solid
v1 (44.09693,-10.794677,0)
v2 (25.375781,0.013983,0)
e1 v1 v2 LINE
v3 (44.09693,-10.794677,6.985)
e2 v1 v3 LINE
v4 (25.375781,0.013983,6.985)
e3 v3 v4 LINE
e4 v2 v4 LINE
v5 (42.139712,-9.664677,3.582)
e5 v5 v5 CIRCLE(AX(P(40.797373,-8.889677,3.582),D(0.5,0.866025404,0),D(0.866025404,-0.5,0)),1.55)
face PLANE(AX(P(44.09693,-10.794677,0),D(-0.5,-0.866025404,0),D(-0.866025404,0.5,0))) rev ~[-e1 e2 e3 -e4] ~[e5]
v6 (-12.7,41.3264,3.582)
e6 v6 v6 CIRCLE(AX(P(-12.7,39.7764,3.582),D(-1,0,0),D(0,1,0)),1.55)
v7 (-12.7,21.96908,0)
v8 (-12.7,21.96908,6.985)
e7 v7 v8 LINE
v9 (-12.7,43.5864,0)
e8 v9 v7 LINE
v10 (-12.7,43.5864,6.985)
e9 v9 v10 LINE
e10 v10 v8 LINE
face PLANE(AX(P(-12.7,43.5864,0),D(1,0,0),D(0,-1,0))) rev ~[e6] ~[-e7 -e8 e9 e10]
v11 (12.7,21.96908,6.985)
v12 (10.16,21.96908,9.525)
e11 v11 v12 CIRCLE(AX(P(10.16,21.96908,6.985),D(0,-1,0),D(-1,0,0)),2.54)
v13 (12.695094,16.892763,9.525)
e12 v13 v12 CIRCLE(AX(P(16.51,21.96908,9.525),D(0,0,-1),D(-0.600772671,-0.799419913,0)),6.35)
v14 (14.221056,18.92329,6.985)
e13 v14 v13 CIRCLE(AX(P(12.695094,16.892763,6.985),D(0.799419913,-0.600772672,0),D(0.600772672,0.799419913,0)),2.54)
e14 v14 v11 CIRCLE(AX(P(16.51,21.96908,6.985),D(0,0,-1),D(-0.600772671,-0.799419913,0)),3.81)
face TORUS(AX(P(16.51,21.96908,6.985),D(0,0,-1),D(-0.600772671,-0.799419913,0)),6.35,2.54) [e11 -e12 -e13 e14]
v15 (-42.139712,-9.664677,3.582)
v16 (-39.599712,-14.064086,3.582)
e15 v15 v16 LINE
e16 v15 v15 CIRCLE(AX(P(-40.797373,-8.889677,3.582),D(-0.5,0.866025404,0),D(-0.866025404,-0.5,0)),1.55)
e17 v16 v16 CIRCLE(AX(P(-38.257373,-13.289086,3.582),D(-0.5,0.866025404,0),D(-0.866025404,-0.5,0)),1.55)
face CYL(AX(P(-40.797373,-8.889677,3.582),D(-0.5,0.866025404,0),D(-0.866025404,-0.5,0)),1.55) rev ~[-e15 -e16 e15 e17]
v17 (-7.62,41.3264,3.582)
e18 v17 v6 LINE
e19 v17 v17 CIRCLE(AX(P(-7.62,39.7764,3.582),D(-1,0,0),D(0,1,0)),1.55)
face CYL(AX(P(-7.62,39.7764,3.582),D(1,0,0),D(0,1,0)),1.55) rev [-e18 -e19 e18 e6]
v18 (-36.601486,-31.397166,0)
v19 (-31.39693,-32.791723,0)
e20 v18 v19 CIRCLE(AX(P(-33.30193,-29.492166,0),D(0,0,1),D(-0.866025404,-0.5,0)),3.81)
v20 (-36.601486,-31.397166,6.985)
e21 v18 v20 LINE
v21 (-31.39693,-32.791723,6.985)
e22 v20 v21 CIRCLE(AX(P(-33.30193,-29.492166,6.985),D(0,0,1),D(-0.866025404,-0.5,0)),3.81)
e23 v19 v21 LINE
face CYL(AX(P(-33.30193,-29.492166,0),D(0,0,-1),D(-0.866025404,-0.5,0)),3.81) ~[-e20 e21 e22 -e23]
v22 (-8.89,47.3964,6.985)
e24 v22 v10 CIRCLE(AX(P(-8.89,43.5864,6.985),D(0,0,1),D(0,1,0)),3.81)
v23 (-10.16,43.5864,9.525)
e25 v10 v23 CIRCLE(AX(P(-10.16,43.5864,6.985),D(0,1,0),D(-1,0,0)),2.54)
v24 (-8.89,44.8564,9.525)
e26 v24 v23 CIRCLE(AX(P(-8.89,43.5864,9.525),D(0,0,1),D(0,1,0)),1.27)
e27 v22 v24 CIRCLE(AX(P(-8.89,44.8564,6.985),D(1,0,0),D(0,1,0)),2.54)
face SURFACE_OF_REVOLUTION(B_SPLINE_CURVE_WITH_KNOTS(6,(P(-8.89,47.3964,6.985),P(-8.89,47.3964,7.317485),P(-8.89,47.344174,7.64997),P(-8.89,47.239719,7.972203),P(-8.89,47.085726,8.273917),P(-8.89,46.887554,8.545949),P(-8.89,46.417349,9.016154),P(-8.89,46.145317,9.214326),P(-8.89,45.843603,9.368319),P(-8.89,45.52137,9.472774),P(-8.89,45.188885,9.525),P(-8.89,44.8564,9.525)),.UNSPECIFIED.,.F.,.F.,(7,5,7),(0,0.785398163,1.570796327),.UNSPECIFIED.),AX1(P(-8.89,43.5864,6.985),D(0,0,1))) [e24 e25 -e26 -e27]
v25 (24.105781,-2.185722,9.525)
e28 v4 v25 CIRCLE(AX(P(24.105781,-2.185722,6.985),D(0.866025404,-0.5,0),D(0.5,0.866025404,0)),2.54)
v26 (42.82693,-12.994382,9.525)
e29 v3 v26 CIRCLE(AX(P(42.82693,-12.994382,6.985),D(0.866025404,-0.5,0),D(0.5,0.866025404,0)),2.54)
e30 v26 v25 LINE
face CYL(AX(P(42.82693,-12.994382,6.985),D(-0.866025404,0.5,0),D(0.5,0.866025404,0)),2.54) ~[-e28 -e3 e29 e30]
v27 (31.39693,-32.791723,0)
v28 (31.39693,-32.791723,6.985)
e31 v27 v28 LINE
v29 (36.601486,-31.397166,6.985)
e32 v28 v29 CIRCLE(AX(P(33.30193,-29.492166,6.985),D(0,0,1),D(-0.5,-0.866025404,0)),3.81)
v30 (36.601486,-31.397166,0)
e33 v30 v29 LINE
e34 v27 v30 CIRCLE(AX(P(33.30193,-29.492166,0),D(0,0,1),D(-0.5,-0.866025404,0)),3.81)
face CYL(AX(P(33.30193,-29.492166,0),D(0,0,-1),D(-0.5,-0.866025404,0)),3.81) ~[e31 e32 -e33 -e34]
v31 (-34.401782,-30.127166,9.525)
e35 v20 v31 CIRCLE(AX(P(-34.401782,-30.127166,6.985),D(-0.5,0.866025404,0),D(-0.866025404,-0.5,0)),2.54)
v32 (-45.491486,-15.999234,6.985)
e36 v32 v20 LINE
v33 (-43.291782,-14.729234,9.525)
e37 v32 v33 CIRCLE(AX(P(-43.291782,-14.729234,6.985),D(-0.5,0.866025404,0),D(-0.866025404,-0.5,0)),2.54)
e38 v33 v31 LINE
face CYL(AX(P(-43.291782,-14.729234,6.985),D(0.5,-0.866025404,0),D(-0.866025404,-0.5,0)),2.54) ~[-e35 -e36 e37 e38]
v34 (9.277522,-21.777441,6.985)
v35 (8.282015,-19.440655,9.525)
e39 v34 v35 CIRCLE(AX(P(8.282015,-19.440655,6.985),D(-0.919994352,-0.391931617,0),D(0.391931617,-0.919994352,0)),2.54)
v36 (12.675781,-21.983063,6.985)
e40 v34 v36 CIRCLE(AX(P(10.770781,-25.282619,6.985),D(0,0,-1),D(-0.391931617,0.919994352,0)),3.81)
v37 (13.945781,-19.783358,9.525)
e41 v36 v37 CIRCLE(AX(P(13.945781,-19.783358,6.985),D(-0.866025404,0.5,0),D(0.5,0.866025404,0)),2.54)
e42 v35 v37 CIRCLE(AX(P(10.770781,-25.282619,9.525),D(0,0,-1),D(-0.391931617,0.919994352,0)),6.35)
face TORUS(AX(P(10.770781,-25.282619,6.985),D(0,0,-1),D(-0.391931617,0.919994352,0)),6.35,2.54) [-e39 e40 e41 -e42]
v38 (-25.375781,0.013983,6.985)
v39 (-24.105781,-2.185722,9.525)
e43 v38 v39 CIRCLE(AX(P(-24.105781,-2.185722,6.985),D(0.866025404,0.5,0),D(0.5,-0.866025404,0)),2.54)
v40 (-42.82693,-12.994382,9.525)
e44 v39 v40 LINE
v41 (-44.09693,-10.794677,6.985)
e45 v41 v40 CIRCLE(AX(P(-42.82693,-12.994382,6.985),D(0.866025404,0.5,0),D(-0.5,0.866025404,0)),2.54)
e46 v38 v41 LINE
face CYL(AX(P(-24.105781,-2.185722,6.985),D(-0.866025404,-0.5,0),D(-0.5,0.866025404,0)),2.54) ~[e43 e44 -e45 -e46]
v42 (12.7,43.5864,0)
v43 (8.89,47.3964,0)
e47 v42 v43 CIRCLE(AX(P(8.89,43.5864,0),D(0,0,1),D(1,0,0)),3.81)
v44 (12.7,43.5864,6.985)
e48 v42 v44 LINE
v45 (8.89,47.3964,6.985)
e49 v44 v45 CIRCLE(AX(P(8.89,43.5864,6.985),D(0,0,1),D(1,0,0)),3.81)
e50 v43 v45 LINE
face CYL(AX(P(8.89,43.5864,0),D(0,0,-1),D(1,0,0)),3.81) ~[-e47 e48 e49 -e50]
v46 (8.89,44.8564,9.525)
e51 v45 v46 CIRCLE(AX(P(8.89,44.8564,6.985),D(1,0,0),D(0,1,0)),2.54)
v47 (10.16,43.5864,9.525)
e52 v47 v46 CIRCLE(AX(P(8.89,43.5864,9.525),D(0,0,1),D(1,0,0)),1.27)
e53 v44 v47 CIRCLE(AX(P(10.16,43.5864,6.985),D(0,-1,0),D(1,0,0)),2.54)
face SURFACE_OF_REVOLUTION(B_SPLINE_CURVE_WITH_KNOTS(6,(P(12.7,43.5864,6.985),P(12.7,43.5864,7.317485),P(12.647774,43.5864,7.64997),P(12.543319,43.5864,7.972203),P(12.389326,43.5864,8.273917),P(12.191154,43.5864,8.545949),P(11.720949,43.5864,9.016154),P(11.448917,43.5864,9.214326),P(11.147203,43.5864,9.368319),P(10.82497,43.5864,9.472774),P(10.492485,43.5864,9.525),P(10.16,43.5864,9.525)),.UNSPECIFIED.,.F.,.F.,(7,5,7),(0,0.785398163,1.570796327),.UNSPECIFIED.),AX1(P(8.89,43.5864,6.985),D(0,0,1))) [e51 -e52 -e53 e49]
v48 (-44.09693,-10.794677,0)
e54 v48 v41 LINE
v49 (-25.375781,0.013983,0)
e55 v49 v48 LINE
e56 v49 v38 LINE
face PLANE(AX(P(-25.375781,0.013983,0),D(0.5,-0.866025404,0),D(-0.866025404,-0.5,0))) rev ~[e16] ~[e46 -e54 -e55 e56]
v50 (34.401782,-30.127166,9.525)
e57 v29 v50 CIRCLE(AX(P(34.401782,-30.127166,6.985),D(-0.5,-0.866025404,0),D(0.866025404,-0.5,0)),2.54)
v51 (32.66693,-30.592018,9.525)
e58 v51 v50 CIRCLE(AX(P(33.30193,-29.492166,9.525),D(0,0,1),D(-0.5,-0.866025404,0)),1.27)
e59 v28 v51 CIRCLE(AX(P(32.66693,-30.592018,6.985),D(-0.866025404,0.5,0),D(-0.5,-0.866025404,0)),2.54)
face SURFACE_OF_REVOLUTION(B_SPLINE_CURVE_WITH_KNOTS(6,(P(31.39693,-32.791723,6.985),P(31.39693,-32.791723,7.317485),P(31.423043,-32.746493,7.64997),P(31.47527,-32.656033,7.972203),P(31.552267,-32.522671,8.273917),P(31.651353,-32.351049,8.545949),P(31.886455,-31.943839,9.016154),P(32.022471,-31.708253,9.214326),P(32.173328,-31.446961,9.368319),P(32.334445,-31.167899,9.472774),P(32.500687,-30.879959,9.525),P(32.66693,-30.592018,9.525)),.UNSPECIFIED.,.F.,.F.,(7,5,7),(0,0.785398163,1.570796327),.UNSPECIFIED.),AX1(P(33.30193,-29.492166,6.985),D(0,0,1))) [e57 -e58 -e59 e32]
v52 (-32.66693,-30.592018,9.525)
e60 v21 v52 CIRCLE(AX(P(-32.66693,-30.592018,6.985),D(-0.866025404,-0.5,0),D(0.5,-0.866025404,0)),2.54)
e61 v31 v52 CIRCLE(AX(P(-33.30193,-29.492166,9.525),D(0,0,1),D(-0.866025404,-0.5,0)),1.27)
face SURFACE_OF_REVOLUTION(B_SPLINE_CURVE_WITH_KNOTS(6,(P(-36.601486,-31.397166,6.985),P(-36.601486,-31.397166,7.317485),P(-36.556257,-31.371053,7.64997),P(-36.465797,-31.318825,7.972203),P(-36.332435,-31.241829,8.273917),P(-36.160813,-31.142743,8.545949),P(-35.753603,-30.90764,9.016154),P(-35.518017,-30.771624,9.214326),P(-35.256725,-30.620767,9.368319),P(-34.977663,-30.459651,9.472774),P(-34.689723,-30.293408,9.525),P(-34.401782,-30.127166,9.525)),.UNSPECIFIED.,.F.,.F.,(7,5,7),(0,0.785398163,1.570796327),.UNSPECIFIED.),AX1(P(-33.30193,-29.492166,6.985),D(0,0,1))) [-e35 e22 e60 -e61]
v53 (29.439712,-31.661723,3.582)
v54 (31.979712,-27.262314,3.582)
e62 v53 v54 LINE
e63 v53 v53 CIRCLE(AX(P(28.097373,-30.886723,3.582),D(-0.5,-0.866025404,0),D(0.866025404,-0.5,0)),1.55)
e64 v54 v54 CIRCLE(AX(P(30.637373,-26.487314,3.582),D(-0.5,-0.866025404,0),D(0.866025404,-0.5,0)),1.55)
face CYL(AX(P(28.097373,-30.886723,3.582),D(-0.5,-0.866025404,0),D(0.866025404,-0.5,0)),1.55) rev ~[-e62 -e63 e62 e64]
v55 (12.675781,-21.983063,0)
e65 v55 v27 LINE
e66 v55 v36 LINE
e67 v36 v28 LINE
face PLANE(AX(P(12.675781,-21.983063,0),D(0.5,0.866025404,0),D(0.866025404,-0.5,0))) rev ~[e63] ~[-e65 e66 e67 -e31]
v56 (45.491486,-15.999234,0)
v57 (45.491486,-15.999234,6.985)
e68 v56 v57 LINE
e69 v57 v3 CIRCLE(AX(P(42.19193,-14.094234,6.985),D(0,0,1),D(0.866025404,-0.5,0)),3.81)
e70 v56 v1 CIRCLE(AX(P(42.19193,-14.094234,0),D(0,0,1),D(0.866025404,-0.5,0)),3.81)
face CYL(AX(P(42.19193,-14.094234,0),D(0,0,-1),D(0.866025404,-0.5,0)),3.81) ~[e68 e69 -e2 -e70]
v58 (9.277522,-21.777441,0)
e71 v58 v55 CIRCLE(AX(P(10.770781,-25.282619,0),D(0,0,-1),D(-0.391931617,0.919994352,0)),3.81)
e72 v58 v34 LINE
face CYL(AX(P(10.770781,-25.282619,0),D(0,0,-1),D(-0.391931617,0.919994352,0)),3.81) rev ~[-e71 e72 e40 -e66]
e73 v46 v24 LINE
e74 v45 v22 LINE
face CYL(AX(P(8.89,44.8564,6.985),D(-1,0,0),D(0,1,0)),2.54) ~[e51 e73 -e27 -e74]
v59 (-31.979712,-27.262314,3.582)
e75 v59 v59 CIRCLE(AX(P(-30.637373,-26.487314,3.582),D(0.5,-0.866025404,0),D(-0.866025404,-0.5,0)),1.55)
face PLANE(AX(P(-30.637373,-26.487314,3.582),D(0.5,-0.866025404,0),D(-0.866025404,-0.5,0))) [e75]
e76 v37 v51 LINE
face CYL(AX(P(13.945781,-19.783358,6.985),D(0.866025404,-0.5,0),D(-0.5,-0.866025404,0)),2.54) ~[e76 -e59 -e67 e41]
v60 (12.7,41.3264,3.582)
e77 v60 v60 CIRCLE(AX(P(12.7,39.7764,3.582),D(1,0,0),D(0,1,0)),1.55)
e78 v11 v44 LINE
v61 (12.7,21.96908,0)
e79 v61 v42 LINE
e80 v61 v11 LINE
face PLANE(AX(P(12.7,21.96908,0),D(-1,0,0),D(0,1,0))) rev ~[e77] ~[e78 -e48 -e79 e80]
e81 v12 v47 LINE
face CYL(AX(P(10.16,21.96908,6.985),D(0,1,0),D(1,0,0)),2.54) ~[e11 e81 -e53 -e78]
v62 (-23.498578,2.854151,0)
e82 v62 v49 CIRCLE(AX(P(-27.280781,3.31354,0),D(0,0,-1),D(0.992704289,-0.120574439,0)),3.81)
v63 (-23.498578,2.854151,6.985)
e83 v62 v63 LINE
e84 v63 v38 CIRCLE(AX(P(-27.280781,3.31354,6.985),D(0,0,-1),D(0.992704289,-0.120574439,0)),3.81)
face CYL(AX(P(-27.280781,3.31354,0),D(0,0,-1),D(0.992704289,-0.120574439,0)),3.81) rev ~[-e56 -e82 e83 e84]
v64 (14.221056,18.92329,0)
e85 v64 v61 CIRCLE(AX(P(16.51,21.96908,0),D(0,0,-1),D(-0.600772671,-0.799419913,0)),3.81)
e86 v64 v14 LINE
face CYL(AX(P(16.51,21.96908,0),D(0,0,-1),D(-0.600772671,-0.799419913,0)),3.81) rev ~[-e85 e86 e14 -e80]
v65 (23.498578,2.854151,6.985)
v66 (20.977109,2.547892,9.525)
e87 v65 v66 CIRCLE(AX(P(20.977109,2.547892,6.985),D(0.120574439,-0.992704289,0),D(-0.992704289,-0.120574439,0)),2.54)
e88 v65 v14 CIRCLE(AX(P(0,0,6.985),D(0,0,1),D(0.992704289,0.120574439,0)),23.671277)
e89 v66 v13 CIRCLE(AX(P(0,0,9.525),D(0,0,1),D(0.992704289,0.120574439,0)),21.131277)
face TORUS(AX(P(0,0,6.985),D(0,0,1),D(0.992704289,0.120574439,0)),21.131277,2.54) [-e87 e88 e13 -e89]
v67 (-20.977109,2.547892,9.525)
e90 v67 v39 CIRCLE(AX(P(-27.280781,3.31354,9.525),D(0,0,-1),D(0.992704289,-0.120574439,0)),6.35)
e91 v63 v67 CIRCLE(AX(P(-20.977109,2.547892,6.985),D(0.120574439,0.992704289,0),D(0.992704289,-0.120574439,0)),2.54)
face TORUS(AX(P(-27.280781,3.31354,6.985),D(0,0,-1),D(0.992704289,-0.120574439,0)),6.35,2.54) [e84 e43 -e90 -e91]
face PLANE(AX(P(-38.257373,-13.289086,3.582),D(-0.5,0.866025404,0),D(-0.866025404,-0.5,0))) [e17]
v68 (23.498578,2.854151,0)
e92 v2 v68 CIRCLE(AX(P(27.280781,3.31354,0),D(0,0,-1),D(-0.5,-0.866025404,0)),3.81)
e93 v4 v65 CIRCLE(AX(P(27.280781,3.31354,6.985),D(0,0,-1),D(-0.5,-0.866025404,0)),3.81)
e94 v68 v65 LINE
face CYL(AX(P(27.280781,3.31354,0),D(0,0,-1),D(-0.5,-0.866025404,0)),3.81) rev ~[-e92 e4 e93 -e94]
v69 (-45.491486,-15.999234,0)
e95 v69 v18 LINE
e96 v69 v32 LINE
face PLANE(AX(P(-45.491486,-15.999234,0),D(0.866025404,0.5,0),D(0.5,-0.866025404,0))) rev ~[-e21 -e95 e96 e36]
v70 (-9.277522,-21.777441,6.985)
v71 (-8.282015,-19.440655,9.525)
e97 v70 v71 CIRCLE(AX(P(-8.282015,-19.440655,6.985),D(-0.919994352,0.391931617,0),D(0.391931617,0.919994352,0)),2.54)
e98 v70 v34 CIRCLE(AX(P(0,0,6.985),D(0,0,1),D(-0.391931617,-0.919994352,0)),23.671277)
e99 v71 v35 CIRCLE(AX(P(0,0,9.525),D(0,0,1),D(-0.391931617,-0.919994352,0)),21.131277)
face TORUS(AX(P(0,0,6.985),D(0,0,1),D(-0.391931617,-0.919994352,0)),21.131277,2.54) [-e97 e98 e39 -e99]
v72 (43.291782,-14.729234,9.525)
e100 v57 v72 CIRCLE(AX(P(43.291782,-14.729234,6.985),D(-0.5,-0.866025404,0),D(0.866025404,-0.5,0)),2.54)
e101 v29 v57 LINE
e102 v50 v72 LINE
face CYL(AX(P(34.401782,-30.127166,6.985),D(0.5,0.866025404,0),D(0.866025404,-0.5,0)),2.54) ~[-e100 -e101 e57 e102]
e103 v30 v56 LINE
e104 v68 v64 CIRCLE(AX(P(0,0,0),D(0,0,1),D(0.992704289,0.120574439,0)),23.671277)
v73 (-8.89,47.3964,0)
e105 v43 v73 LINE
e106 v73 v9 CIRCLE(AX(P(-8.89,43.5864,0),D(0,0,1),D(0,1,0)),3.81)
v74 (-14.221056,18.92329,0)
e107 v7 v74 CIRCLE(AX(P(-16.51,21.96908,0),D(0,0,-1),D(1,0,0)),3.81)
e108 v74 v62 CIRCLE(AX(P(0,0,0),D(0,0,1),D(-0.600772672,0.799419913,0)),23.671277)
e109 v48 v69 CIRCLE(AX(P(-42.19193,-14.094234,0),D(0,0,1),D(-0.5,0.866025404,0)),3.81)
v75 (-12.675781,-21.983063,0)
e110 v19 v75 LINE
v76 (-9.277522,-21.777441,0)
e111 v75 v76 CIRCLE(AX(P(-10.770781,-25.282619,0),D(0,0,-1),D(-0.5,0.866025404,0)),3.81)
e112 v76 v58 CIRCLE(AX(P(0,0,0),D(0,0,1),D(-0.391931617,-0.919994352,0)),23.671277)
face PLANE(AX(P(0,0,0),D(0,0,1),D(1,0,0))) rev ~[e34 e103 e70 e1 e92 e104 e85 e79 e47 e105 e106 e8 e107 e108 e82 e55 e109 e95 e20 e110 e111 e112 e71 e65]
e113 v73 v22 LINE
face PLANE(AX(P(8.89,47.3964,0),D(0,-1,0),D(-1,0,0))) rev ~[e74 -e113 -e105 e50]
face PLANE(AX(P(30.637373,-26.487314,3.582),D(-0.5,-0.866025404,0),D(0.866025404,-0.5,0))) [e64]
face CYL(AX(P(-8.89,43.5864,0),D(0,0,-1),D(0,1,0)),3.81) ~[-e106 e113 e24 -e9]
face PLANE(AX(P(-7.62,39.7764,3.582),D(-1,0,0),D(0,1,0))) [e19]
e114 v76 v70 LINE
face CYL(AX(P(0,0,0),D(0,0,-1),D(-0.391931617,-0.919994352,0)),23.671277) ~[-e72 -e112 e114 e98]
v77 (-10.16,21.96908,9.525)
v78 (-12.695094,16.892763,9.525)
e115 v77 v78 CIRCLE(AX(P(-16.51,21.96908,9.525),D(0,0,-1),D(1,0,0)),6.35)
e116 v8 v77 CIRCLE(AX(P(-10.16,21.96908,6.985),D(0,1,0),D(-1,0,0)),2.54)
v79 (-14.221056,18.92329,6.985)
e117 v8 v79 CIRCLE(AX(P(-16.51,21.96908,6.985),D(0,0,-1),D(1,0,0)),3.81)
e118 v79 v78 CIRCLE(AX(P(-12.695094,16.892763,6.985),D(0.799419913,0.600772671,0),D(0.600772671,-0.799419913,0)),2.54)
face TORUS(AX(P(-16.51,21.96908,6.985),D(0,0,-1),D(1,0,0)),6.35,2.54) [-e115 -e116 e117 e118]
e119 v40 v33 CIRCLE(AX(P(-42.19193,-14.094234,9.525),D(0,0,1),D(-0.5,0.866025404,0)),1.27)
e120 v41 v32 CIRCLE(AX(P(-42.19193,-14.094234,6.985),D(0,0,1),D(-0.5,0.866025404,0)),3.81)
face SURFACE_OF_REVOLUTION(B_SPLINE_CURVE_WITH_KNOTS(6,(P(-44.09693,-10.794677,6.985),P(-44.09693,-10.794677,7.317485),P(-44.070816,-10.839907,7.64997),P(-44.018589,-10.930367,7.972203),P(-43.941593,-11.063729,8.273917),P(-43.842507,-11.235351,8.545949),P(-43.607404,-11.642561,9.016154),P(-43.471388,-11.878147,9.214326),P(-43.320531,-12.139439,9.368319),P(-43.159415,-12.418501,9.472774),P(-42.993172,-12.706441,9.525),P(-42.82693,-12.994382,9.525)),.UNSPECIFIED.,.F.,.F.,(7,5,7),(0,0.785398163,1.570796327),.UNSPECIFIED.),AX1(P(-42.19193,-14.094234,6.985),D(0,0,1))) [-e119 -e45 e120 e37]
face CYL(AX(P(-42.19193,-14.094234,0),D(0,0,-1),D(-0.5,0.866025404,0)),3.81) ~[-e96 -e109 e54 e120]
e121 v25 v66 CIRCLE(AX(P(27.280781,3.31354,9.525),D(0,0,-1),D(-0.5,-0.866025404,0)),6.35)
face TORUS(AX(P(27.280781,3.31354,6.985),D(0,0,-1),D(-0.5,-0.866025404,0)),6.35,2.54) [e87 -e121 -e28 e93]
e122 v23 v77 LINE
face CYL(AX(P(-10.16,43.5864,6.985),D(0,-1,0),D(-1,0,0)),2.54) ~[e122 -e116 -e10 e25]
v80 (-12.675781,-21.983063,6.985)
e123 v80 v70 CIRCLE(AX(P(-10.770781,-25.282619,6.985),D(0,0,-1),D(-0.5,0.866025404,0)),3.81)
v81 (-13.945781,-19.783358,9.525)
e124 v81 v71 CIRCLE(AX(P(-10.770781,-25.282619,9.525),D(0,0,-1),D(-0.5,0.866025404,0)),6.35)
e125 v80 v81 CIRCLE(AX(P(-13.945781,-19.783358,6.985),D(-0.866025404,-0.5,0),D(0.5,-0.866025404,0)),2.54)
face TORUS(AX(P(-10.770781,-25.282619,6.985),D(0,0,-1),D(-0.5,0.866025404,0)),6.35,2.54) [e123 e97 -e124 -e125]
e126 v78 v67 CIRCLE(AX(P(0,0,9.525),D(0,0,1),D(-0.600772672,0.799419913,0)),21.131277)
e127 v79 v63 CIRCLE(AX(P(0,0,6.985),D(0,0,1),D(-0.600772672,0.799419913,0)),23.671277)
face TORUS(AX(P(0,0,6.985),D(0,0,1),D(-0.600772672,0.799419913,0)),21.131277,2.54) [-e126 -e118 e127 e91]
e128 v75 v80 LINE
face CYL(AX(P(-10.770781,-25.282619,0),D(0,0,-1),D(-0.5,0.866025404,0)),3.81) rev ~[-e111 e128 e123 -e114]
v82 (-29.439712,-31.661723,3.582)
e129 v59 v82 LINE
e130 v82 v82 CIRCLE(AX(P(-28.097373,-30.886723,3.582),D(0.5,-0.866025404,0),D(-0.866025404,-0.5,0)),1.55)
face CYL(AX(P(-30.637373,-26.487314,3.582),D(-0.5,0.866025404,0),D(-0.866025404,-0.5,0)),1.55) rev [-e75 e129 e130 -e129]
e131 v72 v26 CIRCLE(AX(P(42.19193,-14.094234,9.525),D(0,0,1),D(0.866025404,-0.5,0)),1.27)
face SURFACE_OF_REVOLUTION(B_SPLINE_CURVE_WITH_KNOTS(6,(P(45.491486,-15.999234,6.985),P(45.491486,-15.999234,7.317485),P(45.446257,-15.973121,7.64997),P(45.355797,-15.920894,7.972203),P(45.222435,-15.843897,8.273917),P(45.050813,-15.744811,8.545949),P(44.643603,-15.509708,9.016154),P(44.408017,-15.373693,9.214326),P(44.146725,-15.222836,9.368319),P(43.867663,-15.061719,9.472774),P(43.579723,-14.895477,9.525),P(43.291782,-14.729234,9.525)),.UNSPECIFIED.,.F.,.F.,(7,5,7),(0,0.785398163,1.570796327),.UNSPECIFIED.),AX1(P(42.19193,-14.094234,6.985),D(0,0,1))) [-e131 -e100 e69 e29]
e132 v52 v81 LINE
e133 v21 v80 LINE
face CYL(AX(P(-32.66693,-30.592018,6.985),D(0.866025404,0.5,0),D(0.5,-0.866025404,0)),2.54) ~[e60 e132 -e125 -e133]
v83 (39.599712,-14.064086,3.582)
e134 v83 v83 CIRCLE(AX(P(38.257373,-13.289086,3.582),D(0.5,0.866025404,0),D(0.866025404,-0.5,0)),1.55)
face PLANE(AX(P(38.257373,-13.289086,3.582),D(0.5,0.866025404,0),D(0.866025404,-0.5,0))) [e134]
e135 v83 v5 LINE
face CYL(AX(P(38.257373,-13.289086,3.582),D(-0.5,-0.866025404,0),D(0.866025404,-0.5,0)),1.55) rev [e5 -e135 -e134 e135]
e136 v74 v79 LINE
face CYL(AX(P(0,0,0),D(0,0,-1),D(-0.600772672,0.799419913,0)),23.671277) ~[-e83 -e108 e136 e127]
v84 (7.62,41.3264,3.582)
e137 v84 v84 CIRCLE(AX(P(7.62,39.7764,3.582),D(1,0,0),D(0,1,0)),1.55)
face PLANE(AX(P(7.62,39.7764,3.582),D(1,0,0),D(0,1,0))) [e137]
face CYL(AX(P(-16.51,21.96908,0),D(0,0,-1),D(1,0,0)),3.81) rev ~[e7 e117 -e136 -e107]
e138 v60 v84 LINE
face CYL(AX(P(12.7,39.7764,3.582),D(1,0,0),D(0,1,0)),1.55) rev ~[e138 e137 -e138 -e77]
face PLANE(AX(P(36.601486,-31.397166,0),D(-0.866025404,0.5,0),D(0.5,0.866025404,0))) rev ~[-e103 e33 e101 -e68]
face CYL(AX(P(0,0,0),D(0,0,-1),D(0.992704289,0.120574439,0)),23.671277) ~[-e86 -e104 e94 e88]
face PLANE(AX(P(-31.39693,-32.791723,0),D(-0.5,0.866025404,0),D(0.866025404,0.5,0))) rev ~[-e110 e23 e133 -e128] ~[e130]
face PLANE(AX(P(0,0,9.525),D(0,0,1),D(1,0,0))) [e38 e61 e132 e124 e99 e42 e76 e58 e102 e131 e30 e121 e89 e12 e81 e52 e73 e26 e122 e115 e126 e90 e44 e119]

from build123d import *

# Parameters (mm, degrees)
BOSS_EXTRUDE1_DEPTH = 9.525
FILLET1_R           = 2.54
SKETCH3_R           = 1.55
CUT_EXTRUDE2_DEPTH  = 5.08
CUT_EXTRUDE3_START  = -5.08
SKETCH4_R           = 1.55
CUT_EXTRUDE3_DEPTH  = 5.08
CIRPATTERN2_COUNT   = 3


with BuildPart() as part:
    # Sketch1 → Boss-Extrude1 (new body)
    with BuildSketch(Plane.XY):
        with BuildLine():
            Line((12.7, 21.969079793), (12.7, 43.5864))
            ThreePointArc((12.7, 43.5864), (11.584076836, 46.280476836), (8.89, 47.3964))
            Line((8.89, 47.3964), (-8.89, 47.3964))
            ThreePointArc((-8.89, 47.3964), (-11.584076836, 46.280476836), (-12.7, 43.5864))
            Line((-12.7, 43.5864), (-12.7, 21.969079793))
            ThreePointArc((-12.7, 21.969079793), (-13.101409662, 20.266842468), (-14.221056121, 18.923289925))
            ThreePointArc((-14.221056121, 18.923289925), (-20.499926929, 11.835638331), (-23.498577859, 2.854150907))
            ThreePointArc((-23.498577859, 2.854150907), (-24.102305263, 1.212732359), (-25.375781199, 0.013982731))
            Line((-25.375781199, 0.013982731), (-44.09692966, -10.794677372))
            ThreePointArc((-44.09692966, -10.794677372), (-45.872107058, -13.108133599), (-45.491486448, -15.99923416))
            Line((-45.491486448, -15.99923416), (-36.601486448, -31.39716584))
            ThreePointArc((-36.601486448, -31.39716584), (-34.288030221, -33.172343238), (-31.39692966, -32.791722628))
            Line((-31.39692966, -32.791722628), (-12.675781199, -21.983062525))
            ThreePointArc((-12.675781199, -21.983062525), (-11.000895601, -21.479574827), (-9.277521738, -21.777440832))
            ThreePointArc((-9.277521738, -21.777440832), (0, -23.671276662), (9.277521738, -21.777440832))
            ThreePointArc((9.277521738, -21.777440832), (11.000895601, -21.479574827), (12.675781199, -21.983062525))
            Line((12.675781199, -21.983062525), (31.39692966, -32.791722628))
            ThreePointArc((31.39692966, -32.791722628), (34.288030221, -33.172343238), (36.601486448, -31.39716584))
            Line((36.601486448, -31.39716584), (45.491486448, -15.99923416))
            ThreePointArc((45.491486448, -15.99923416), (45.872107058, -13.108133599), (44.09692966, -10.794677372))
            Line((44.09692966, -10.794677372), (25.375781199, 0.013982731))
            ThreePointArc((25.375781199, 0.013982731), (24.102305263, 1.212732359), (23.498577859, 2.854150907))
            ThreePointArc((23.498577859, 2.854150907), (20.499926929, 11.835638331), (14.221056121, 18.923289925))
            ThreePointArc((14.221056121, 18.923289925), (13.101409662, 20.266842468), (12.7, 21.969079793))
        make_face()
    extrude(amount=BOSS_EXTRUDE1_DEPTH)

    # Fillet1
    fillet1_edges = [part.edges().sort_by_distance(p)[0] for p in [
        (-11.584076836, 46.280476836, 9.525),
        (0, 47.3964, 9.525),
        (11.584076836, 46.280476836, 9.525),
        (12.7, 32.777739897, 9.525),
        (13.101409662, 20.266842468, 9.525),
        (20.499926929, 11.835638331, 9.525),
        (24.102305263, 1.212732359, 9.525),
        (34.736355429, -5.39034732, 9.525),
        (45.872107058, -13.108133599, 9.525),
        (41.046486448, -23.6982, 9.525),
        (34.288030221, -33.172343238, 9.525),
        (22.036355429, -27.387392576, 9.525),
        (11.000895601, -21.479574827, 9.525),
        (0, -23.671276662, 9.525),
        (-11.000895601, -21.479574827, 9.525),
        (-22.036355429, -27.387392576, 9.525),
        (-34.288030221, -33.172343238, 9.525),
        (-41.046486448, -23.6982, 9.525),
        (-45.872107058, -13.108133599, 9.525),
        (-34.736355429, -5.39034732, 9.525),
        (-24.102305263, 1.212732359, 9.525),
        (-20.499926929, 11.835638331, 9.525),
        (-13.101409662, 20.266842468, 9.525),
        (-12.7, 32.777739897, 9.525),
    ]]
    fillet(fillet1_edges, radius=FILLET1_R)

    # Sketch3 → Cut-Extrude2 (cut)
    with BuildSketch(Plane(origin=(-6.35, -10.998522628, 0), x_dir=(0.8660254037844575, -0.4999999999999674, 0), z_dir=(-0.4999999999999675, -0.8660254037844576, 0))):
        with Locations((39.7764, 3.582)):
            Circle(SKETCH3_R)
    cut_extrude2 = extrude(amount=-CUT_EXTRUDE2_DEPTH, mode=Mode.SUBTRACT)

    # Sketch4 → Cut-Extrude3 (cut)
    with BuildSketch(Plane(origin=(6.35, 10.998522628, 0), x_dir=(0.8660254037844387, -0.49999999999999983, 0), z_dir=(0.49999999999999983, 0.8660254037844387, 0)).offset(CUT_EXTRUDE3_START)):
        with Locations((39.7764, -3.582)):
            Circle(SKETCH4_R)
    cut_extrude3 = extrude(amount=CUT_EXTRUDE3_DEPTH, mode=Mode.SUBTRACT)

    # CirPattern2: Cut-Extrude2, Cut-Extrude3 ×3 about axis
    cirpattern2_axis = Axis((0, 0, 0), (0, 0, -1))
    add([cut_extrude2.rotate(cirpattern2_axis, i * 360 / CIRPATTERN2_COUNT) for i in range(1, CIRPATTERN2_COUNT)], mode=Mode.SUBTRACT)
    add([cut_extrude3.rotate(cirpattern2_axis, i * 360 / CIRPATTERN2_COUNT) for i in range(1, CIRPATTERN2_COUNT)], mode=Mode.SUBTRACT)


solid = part.part
